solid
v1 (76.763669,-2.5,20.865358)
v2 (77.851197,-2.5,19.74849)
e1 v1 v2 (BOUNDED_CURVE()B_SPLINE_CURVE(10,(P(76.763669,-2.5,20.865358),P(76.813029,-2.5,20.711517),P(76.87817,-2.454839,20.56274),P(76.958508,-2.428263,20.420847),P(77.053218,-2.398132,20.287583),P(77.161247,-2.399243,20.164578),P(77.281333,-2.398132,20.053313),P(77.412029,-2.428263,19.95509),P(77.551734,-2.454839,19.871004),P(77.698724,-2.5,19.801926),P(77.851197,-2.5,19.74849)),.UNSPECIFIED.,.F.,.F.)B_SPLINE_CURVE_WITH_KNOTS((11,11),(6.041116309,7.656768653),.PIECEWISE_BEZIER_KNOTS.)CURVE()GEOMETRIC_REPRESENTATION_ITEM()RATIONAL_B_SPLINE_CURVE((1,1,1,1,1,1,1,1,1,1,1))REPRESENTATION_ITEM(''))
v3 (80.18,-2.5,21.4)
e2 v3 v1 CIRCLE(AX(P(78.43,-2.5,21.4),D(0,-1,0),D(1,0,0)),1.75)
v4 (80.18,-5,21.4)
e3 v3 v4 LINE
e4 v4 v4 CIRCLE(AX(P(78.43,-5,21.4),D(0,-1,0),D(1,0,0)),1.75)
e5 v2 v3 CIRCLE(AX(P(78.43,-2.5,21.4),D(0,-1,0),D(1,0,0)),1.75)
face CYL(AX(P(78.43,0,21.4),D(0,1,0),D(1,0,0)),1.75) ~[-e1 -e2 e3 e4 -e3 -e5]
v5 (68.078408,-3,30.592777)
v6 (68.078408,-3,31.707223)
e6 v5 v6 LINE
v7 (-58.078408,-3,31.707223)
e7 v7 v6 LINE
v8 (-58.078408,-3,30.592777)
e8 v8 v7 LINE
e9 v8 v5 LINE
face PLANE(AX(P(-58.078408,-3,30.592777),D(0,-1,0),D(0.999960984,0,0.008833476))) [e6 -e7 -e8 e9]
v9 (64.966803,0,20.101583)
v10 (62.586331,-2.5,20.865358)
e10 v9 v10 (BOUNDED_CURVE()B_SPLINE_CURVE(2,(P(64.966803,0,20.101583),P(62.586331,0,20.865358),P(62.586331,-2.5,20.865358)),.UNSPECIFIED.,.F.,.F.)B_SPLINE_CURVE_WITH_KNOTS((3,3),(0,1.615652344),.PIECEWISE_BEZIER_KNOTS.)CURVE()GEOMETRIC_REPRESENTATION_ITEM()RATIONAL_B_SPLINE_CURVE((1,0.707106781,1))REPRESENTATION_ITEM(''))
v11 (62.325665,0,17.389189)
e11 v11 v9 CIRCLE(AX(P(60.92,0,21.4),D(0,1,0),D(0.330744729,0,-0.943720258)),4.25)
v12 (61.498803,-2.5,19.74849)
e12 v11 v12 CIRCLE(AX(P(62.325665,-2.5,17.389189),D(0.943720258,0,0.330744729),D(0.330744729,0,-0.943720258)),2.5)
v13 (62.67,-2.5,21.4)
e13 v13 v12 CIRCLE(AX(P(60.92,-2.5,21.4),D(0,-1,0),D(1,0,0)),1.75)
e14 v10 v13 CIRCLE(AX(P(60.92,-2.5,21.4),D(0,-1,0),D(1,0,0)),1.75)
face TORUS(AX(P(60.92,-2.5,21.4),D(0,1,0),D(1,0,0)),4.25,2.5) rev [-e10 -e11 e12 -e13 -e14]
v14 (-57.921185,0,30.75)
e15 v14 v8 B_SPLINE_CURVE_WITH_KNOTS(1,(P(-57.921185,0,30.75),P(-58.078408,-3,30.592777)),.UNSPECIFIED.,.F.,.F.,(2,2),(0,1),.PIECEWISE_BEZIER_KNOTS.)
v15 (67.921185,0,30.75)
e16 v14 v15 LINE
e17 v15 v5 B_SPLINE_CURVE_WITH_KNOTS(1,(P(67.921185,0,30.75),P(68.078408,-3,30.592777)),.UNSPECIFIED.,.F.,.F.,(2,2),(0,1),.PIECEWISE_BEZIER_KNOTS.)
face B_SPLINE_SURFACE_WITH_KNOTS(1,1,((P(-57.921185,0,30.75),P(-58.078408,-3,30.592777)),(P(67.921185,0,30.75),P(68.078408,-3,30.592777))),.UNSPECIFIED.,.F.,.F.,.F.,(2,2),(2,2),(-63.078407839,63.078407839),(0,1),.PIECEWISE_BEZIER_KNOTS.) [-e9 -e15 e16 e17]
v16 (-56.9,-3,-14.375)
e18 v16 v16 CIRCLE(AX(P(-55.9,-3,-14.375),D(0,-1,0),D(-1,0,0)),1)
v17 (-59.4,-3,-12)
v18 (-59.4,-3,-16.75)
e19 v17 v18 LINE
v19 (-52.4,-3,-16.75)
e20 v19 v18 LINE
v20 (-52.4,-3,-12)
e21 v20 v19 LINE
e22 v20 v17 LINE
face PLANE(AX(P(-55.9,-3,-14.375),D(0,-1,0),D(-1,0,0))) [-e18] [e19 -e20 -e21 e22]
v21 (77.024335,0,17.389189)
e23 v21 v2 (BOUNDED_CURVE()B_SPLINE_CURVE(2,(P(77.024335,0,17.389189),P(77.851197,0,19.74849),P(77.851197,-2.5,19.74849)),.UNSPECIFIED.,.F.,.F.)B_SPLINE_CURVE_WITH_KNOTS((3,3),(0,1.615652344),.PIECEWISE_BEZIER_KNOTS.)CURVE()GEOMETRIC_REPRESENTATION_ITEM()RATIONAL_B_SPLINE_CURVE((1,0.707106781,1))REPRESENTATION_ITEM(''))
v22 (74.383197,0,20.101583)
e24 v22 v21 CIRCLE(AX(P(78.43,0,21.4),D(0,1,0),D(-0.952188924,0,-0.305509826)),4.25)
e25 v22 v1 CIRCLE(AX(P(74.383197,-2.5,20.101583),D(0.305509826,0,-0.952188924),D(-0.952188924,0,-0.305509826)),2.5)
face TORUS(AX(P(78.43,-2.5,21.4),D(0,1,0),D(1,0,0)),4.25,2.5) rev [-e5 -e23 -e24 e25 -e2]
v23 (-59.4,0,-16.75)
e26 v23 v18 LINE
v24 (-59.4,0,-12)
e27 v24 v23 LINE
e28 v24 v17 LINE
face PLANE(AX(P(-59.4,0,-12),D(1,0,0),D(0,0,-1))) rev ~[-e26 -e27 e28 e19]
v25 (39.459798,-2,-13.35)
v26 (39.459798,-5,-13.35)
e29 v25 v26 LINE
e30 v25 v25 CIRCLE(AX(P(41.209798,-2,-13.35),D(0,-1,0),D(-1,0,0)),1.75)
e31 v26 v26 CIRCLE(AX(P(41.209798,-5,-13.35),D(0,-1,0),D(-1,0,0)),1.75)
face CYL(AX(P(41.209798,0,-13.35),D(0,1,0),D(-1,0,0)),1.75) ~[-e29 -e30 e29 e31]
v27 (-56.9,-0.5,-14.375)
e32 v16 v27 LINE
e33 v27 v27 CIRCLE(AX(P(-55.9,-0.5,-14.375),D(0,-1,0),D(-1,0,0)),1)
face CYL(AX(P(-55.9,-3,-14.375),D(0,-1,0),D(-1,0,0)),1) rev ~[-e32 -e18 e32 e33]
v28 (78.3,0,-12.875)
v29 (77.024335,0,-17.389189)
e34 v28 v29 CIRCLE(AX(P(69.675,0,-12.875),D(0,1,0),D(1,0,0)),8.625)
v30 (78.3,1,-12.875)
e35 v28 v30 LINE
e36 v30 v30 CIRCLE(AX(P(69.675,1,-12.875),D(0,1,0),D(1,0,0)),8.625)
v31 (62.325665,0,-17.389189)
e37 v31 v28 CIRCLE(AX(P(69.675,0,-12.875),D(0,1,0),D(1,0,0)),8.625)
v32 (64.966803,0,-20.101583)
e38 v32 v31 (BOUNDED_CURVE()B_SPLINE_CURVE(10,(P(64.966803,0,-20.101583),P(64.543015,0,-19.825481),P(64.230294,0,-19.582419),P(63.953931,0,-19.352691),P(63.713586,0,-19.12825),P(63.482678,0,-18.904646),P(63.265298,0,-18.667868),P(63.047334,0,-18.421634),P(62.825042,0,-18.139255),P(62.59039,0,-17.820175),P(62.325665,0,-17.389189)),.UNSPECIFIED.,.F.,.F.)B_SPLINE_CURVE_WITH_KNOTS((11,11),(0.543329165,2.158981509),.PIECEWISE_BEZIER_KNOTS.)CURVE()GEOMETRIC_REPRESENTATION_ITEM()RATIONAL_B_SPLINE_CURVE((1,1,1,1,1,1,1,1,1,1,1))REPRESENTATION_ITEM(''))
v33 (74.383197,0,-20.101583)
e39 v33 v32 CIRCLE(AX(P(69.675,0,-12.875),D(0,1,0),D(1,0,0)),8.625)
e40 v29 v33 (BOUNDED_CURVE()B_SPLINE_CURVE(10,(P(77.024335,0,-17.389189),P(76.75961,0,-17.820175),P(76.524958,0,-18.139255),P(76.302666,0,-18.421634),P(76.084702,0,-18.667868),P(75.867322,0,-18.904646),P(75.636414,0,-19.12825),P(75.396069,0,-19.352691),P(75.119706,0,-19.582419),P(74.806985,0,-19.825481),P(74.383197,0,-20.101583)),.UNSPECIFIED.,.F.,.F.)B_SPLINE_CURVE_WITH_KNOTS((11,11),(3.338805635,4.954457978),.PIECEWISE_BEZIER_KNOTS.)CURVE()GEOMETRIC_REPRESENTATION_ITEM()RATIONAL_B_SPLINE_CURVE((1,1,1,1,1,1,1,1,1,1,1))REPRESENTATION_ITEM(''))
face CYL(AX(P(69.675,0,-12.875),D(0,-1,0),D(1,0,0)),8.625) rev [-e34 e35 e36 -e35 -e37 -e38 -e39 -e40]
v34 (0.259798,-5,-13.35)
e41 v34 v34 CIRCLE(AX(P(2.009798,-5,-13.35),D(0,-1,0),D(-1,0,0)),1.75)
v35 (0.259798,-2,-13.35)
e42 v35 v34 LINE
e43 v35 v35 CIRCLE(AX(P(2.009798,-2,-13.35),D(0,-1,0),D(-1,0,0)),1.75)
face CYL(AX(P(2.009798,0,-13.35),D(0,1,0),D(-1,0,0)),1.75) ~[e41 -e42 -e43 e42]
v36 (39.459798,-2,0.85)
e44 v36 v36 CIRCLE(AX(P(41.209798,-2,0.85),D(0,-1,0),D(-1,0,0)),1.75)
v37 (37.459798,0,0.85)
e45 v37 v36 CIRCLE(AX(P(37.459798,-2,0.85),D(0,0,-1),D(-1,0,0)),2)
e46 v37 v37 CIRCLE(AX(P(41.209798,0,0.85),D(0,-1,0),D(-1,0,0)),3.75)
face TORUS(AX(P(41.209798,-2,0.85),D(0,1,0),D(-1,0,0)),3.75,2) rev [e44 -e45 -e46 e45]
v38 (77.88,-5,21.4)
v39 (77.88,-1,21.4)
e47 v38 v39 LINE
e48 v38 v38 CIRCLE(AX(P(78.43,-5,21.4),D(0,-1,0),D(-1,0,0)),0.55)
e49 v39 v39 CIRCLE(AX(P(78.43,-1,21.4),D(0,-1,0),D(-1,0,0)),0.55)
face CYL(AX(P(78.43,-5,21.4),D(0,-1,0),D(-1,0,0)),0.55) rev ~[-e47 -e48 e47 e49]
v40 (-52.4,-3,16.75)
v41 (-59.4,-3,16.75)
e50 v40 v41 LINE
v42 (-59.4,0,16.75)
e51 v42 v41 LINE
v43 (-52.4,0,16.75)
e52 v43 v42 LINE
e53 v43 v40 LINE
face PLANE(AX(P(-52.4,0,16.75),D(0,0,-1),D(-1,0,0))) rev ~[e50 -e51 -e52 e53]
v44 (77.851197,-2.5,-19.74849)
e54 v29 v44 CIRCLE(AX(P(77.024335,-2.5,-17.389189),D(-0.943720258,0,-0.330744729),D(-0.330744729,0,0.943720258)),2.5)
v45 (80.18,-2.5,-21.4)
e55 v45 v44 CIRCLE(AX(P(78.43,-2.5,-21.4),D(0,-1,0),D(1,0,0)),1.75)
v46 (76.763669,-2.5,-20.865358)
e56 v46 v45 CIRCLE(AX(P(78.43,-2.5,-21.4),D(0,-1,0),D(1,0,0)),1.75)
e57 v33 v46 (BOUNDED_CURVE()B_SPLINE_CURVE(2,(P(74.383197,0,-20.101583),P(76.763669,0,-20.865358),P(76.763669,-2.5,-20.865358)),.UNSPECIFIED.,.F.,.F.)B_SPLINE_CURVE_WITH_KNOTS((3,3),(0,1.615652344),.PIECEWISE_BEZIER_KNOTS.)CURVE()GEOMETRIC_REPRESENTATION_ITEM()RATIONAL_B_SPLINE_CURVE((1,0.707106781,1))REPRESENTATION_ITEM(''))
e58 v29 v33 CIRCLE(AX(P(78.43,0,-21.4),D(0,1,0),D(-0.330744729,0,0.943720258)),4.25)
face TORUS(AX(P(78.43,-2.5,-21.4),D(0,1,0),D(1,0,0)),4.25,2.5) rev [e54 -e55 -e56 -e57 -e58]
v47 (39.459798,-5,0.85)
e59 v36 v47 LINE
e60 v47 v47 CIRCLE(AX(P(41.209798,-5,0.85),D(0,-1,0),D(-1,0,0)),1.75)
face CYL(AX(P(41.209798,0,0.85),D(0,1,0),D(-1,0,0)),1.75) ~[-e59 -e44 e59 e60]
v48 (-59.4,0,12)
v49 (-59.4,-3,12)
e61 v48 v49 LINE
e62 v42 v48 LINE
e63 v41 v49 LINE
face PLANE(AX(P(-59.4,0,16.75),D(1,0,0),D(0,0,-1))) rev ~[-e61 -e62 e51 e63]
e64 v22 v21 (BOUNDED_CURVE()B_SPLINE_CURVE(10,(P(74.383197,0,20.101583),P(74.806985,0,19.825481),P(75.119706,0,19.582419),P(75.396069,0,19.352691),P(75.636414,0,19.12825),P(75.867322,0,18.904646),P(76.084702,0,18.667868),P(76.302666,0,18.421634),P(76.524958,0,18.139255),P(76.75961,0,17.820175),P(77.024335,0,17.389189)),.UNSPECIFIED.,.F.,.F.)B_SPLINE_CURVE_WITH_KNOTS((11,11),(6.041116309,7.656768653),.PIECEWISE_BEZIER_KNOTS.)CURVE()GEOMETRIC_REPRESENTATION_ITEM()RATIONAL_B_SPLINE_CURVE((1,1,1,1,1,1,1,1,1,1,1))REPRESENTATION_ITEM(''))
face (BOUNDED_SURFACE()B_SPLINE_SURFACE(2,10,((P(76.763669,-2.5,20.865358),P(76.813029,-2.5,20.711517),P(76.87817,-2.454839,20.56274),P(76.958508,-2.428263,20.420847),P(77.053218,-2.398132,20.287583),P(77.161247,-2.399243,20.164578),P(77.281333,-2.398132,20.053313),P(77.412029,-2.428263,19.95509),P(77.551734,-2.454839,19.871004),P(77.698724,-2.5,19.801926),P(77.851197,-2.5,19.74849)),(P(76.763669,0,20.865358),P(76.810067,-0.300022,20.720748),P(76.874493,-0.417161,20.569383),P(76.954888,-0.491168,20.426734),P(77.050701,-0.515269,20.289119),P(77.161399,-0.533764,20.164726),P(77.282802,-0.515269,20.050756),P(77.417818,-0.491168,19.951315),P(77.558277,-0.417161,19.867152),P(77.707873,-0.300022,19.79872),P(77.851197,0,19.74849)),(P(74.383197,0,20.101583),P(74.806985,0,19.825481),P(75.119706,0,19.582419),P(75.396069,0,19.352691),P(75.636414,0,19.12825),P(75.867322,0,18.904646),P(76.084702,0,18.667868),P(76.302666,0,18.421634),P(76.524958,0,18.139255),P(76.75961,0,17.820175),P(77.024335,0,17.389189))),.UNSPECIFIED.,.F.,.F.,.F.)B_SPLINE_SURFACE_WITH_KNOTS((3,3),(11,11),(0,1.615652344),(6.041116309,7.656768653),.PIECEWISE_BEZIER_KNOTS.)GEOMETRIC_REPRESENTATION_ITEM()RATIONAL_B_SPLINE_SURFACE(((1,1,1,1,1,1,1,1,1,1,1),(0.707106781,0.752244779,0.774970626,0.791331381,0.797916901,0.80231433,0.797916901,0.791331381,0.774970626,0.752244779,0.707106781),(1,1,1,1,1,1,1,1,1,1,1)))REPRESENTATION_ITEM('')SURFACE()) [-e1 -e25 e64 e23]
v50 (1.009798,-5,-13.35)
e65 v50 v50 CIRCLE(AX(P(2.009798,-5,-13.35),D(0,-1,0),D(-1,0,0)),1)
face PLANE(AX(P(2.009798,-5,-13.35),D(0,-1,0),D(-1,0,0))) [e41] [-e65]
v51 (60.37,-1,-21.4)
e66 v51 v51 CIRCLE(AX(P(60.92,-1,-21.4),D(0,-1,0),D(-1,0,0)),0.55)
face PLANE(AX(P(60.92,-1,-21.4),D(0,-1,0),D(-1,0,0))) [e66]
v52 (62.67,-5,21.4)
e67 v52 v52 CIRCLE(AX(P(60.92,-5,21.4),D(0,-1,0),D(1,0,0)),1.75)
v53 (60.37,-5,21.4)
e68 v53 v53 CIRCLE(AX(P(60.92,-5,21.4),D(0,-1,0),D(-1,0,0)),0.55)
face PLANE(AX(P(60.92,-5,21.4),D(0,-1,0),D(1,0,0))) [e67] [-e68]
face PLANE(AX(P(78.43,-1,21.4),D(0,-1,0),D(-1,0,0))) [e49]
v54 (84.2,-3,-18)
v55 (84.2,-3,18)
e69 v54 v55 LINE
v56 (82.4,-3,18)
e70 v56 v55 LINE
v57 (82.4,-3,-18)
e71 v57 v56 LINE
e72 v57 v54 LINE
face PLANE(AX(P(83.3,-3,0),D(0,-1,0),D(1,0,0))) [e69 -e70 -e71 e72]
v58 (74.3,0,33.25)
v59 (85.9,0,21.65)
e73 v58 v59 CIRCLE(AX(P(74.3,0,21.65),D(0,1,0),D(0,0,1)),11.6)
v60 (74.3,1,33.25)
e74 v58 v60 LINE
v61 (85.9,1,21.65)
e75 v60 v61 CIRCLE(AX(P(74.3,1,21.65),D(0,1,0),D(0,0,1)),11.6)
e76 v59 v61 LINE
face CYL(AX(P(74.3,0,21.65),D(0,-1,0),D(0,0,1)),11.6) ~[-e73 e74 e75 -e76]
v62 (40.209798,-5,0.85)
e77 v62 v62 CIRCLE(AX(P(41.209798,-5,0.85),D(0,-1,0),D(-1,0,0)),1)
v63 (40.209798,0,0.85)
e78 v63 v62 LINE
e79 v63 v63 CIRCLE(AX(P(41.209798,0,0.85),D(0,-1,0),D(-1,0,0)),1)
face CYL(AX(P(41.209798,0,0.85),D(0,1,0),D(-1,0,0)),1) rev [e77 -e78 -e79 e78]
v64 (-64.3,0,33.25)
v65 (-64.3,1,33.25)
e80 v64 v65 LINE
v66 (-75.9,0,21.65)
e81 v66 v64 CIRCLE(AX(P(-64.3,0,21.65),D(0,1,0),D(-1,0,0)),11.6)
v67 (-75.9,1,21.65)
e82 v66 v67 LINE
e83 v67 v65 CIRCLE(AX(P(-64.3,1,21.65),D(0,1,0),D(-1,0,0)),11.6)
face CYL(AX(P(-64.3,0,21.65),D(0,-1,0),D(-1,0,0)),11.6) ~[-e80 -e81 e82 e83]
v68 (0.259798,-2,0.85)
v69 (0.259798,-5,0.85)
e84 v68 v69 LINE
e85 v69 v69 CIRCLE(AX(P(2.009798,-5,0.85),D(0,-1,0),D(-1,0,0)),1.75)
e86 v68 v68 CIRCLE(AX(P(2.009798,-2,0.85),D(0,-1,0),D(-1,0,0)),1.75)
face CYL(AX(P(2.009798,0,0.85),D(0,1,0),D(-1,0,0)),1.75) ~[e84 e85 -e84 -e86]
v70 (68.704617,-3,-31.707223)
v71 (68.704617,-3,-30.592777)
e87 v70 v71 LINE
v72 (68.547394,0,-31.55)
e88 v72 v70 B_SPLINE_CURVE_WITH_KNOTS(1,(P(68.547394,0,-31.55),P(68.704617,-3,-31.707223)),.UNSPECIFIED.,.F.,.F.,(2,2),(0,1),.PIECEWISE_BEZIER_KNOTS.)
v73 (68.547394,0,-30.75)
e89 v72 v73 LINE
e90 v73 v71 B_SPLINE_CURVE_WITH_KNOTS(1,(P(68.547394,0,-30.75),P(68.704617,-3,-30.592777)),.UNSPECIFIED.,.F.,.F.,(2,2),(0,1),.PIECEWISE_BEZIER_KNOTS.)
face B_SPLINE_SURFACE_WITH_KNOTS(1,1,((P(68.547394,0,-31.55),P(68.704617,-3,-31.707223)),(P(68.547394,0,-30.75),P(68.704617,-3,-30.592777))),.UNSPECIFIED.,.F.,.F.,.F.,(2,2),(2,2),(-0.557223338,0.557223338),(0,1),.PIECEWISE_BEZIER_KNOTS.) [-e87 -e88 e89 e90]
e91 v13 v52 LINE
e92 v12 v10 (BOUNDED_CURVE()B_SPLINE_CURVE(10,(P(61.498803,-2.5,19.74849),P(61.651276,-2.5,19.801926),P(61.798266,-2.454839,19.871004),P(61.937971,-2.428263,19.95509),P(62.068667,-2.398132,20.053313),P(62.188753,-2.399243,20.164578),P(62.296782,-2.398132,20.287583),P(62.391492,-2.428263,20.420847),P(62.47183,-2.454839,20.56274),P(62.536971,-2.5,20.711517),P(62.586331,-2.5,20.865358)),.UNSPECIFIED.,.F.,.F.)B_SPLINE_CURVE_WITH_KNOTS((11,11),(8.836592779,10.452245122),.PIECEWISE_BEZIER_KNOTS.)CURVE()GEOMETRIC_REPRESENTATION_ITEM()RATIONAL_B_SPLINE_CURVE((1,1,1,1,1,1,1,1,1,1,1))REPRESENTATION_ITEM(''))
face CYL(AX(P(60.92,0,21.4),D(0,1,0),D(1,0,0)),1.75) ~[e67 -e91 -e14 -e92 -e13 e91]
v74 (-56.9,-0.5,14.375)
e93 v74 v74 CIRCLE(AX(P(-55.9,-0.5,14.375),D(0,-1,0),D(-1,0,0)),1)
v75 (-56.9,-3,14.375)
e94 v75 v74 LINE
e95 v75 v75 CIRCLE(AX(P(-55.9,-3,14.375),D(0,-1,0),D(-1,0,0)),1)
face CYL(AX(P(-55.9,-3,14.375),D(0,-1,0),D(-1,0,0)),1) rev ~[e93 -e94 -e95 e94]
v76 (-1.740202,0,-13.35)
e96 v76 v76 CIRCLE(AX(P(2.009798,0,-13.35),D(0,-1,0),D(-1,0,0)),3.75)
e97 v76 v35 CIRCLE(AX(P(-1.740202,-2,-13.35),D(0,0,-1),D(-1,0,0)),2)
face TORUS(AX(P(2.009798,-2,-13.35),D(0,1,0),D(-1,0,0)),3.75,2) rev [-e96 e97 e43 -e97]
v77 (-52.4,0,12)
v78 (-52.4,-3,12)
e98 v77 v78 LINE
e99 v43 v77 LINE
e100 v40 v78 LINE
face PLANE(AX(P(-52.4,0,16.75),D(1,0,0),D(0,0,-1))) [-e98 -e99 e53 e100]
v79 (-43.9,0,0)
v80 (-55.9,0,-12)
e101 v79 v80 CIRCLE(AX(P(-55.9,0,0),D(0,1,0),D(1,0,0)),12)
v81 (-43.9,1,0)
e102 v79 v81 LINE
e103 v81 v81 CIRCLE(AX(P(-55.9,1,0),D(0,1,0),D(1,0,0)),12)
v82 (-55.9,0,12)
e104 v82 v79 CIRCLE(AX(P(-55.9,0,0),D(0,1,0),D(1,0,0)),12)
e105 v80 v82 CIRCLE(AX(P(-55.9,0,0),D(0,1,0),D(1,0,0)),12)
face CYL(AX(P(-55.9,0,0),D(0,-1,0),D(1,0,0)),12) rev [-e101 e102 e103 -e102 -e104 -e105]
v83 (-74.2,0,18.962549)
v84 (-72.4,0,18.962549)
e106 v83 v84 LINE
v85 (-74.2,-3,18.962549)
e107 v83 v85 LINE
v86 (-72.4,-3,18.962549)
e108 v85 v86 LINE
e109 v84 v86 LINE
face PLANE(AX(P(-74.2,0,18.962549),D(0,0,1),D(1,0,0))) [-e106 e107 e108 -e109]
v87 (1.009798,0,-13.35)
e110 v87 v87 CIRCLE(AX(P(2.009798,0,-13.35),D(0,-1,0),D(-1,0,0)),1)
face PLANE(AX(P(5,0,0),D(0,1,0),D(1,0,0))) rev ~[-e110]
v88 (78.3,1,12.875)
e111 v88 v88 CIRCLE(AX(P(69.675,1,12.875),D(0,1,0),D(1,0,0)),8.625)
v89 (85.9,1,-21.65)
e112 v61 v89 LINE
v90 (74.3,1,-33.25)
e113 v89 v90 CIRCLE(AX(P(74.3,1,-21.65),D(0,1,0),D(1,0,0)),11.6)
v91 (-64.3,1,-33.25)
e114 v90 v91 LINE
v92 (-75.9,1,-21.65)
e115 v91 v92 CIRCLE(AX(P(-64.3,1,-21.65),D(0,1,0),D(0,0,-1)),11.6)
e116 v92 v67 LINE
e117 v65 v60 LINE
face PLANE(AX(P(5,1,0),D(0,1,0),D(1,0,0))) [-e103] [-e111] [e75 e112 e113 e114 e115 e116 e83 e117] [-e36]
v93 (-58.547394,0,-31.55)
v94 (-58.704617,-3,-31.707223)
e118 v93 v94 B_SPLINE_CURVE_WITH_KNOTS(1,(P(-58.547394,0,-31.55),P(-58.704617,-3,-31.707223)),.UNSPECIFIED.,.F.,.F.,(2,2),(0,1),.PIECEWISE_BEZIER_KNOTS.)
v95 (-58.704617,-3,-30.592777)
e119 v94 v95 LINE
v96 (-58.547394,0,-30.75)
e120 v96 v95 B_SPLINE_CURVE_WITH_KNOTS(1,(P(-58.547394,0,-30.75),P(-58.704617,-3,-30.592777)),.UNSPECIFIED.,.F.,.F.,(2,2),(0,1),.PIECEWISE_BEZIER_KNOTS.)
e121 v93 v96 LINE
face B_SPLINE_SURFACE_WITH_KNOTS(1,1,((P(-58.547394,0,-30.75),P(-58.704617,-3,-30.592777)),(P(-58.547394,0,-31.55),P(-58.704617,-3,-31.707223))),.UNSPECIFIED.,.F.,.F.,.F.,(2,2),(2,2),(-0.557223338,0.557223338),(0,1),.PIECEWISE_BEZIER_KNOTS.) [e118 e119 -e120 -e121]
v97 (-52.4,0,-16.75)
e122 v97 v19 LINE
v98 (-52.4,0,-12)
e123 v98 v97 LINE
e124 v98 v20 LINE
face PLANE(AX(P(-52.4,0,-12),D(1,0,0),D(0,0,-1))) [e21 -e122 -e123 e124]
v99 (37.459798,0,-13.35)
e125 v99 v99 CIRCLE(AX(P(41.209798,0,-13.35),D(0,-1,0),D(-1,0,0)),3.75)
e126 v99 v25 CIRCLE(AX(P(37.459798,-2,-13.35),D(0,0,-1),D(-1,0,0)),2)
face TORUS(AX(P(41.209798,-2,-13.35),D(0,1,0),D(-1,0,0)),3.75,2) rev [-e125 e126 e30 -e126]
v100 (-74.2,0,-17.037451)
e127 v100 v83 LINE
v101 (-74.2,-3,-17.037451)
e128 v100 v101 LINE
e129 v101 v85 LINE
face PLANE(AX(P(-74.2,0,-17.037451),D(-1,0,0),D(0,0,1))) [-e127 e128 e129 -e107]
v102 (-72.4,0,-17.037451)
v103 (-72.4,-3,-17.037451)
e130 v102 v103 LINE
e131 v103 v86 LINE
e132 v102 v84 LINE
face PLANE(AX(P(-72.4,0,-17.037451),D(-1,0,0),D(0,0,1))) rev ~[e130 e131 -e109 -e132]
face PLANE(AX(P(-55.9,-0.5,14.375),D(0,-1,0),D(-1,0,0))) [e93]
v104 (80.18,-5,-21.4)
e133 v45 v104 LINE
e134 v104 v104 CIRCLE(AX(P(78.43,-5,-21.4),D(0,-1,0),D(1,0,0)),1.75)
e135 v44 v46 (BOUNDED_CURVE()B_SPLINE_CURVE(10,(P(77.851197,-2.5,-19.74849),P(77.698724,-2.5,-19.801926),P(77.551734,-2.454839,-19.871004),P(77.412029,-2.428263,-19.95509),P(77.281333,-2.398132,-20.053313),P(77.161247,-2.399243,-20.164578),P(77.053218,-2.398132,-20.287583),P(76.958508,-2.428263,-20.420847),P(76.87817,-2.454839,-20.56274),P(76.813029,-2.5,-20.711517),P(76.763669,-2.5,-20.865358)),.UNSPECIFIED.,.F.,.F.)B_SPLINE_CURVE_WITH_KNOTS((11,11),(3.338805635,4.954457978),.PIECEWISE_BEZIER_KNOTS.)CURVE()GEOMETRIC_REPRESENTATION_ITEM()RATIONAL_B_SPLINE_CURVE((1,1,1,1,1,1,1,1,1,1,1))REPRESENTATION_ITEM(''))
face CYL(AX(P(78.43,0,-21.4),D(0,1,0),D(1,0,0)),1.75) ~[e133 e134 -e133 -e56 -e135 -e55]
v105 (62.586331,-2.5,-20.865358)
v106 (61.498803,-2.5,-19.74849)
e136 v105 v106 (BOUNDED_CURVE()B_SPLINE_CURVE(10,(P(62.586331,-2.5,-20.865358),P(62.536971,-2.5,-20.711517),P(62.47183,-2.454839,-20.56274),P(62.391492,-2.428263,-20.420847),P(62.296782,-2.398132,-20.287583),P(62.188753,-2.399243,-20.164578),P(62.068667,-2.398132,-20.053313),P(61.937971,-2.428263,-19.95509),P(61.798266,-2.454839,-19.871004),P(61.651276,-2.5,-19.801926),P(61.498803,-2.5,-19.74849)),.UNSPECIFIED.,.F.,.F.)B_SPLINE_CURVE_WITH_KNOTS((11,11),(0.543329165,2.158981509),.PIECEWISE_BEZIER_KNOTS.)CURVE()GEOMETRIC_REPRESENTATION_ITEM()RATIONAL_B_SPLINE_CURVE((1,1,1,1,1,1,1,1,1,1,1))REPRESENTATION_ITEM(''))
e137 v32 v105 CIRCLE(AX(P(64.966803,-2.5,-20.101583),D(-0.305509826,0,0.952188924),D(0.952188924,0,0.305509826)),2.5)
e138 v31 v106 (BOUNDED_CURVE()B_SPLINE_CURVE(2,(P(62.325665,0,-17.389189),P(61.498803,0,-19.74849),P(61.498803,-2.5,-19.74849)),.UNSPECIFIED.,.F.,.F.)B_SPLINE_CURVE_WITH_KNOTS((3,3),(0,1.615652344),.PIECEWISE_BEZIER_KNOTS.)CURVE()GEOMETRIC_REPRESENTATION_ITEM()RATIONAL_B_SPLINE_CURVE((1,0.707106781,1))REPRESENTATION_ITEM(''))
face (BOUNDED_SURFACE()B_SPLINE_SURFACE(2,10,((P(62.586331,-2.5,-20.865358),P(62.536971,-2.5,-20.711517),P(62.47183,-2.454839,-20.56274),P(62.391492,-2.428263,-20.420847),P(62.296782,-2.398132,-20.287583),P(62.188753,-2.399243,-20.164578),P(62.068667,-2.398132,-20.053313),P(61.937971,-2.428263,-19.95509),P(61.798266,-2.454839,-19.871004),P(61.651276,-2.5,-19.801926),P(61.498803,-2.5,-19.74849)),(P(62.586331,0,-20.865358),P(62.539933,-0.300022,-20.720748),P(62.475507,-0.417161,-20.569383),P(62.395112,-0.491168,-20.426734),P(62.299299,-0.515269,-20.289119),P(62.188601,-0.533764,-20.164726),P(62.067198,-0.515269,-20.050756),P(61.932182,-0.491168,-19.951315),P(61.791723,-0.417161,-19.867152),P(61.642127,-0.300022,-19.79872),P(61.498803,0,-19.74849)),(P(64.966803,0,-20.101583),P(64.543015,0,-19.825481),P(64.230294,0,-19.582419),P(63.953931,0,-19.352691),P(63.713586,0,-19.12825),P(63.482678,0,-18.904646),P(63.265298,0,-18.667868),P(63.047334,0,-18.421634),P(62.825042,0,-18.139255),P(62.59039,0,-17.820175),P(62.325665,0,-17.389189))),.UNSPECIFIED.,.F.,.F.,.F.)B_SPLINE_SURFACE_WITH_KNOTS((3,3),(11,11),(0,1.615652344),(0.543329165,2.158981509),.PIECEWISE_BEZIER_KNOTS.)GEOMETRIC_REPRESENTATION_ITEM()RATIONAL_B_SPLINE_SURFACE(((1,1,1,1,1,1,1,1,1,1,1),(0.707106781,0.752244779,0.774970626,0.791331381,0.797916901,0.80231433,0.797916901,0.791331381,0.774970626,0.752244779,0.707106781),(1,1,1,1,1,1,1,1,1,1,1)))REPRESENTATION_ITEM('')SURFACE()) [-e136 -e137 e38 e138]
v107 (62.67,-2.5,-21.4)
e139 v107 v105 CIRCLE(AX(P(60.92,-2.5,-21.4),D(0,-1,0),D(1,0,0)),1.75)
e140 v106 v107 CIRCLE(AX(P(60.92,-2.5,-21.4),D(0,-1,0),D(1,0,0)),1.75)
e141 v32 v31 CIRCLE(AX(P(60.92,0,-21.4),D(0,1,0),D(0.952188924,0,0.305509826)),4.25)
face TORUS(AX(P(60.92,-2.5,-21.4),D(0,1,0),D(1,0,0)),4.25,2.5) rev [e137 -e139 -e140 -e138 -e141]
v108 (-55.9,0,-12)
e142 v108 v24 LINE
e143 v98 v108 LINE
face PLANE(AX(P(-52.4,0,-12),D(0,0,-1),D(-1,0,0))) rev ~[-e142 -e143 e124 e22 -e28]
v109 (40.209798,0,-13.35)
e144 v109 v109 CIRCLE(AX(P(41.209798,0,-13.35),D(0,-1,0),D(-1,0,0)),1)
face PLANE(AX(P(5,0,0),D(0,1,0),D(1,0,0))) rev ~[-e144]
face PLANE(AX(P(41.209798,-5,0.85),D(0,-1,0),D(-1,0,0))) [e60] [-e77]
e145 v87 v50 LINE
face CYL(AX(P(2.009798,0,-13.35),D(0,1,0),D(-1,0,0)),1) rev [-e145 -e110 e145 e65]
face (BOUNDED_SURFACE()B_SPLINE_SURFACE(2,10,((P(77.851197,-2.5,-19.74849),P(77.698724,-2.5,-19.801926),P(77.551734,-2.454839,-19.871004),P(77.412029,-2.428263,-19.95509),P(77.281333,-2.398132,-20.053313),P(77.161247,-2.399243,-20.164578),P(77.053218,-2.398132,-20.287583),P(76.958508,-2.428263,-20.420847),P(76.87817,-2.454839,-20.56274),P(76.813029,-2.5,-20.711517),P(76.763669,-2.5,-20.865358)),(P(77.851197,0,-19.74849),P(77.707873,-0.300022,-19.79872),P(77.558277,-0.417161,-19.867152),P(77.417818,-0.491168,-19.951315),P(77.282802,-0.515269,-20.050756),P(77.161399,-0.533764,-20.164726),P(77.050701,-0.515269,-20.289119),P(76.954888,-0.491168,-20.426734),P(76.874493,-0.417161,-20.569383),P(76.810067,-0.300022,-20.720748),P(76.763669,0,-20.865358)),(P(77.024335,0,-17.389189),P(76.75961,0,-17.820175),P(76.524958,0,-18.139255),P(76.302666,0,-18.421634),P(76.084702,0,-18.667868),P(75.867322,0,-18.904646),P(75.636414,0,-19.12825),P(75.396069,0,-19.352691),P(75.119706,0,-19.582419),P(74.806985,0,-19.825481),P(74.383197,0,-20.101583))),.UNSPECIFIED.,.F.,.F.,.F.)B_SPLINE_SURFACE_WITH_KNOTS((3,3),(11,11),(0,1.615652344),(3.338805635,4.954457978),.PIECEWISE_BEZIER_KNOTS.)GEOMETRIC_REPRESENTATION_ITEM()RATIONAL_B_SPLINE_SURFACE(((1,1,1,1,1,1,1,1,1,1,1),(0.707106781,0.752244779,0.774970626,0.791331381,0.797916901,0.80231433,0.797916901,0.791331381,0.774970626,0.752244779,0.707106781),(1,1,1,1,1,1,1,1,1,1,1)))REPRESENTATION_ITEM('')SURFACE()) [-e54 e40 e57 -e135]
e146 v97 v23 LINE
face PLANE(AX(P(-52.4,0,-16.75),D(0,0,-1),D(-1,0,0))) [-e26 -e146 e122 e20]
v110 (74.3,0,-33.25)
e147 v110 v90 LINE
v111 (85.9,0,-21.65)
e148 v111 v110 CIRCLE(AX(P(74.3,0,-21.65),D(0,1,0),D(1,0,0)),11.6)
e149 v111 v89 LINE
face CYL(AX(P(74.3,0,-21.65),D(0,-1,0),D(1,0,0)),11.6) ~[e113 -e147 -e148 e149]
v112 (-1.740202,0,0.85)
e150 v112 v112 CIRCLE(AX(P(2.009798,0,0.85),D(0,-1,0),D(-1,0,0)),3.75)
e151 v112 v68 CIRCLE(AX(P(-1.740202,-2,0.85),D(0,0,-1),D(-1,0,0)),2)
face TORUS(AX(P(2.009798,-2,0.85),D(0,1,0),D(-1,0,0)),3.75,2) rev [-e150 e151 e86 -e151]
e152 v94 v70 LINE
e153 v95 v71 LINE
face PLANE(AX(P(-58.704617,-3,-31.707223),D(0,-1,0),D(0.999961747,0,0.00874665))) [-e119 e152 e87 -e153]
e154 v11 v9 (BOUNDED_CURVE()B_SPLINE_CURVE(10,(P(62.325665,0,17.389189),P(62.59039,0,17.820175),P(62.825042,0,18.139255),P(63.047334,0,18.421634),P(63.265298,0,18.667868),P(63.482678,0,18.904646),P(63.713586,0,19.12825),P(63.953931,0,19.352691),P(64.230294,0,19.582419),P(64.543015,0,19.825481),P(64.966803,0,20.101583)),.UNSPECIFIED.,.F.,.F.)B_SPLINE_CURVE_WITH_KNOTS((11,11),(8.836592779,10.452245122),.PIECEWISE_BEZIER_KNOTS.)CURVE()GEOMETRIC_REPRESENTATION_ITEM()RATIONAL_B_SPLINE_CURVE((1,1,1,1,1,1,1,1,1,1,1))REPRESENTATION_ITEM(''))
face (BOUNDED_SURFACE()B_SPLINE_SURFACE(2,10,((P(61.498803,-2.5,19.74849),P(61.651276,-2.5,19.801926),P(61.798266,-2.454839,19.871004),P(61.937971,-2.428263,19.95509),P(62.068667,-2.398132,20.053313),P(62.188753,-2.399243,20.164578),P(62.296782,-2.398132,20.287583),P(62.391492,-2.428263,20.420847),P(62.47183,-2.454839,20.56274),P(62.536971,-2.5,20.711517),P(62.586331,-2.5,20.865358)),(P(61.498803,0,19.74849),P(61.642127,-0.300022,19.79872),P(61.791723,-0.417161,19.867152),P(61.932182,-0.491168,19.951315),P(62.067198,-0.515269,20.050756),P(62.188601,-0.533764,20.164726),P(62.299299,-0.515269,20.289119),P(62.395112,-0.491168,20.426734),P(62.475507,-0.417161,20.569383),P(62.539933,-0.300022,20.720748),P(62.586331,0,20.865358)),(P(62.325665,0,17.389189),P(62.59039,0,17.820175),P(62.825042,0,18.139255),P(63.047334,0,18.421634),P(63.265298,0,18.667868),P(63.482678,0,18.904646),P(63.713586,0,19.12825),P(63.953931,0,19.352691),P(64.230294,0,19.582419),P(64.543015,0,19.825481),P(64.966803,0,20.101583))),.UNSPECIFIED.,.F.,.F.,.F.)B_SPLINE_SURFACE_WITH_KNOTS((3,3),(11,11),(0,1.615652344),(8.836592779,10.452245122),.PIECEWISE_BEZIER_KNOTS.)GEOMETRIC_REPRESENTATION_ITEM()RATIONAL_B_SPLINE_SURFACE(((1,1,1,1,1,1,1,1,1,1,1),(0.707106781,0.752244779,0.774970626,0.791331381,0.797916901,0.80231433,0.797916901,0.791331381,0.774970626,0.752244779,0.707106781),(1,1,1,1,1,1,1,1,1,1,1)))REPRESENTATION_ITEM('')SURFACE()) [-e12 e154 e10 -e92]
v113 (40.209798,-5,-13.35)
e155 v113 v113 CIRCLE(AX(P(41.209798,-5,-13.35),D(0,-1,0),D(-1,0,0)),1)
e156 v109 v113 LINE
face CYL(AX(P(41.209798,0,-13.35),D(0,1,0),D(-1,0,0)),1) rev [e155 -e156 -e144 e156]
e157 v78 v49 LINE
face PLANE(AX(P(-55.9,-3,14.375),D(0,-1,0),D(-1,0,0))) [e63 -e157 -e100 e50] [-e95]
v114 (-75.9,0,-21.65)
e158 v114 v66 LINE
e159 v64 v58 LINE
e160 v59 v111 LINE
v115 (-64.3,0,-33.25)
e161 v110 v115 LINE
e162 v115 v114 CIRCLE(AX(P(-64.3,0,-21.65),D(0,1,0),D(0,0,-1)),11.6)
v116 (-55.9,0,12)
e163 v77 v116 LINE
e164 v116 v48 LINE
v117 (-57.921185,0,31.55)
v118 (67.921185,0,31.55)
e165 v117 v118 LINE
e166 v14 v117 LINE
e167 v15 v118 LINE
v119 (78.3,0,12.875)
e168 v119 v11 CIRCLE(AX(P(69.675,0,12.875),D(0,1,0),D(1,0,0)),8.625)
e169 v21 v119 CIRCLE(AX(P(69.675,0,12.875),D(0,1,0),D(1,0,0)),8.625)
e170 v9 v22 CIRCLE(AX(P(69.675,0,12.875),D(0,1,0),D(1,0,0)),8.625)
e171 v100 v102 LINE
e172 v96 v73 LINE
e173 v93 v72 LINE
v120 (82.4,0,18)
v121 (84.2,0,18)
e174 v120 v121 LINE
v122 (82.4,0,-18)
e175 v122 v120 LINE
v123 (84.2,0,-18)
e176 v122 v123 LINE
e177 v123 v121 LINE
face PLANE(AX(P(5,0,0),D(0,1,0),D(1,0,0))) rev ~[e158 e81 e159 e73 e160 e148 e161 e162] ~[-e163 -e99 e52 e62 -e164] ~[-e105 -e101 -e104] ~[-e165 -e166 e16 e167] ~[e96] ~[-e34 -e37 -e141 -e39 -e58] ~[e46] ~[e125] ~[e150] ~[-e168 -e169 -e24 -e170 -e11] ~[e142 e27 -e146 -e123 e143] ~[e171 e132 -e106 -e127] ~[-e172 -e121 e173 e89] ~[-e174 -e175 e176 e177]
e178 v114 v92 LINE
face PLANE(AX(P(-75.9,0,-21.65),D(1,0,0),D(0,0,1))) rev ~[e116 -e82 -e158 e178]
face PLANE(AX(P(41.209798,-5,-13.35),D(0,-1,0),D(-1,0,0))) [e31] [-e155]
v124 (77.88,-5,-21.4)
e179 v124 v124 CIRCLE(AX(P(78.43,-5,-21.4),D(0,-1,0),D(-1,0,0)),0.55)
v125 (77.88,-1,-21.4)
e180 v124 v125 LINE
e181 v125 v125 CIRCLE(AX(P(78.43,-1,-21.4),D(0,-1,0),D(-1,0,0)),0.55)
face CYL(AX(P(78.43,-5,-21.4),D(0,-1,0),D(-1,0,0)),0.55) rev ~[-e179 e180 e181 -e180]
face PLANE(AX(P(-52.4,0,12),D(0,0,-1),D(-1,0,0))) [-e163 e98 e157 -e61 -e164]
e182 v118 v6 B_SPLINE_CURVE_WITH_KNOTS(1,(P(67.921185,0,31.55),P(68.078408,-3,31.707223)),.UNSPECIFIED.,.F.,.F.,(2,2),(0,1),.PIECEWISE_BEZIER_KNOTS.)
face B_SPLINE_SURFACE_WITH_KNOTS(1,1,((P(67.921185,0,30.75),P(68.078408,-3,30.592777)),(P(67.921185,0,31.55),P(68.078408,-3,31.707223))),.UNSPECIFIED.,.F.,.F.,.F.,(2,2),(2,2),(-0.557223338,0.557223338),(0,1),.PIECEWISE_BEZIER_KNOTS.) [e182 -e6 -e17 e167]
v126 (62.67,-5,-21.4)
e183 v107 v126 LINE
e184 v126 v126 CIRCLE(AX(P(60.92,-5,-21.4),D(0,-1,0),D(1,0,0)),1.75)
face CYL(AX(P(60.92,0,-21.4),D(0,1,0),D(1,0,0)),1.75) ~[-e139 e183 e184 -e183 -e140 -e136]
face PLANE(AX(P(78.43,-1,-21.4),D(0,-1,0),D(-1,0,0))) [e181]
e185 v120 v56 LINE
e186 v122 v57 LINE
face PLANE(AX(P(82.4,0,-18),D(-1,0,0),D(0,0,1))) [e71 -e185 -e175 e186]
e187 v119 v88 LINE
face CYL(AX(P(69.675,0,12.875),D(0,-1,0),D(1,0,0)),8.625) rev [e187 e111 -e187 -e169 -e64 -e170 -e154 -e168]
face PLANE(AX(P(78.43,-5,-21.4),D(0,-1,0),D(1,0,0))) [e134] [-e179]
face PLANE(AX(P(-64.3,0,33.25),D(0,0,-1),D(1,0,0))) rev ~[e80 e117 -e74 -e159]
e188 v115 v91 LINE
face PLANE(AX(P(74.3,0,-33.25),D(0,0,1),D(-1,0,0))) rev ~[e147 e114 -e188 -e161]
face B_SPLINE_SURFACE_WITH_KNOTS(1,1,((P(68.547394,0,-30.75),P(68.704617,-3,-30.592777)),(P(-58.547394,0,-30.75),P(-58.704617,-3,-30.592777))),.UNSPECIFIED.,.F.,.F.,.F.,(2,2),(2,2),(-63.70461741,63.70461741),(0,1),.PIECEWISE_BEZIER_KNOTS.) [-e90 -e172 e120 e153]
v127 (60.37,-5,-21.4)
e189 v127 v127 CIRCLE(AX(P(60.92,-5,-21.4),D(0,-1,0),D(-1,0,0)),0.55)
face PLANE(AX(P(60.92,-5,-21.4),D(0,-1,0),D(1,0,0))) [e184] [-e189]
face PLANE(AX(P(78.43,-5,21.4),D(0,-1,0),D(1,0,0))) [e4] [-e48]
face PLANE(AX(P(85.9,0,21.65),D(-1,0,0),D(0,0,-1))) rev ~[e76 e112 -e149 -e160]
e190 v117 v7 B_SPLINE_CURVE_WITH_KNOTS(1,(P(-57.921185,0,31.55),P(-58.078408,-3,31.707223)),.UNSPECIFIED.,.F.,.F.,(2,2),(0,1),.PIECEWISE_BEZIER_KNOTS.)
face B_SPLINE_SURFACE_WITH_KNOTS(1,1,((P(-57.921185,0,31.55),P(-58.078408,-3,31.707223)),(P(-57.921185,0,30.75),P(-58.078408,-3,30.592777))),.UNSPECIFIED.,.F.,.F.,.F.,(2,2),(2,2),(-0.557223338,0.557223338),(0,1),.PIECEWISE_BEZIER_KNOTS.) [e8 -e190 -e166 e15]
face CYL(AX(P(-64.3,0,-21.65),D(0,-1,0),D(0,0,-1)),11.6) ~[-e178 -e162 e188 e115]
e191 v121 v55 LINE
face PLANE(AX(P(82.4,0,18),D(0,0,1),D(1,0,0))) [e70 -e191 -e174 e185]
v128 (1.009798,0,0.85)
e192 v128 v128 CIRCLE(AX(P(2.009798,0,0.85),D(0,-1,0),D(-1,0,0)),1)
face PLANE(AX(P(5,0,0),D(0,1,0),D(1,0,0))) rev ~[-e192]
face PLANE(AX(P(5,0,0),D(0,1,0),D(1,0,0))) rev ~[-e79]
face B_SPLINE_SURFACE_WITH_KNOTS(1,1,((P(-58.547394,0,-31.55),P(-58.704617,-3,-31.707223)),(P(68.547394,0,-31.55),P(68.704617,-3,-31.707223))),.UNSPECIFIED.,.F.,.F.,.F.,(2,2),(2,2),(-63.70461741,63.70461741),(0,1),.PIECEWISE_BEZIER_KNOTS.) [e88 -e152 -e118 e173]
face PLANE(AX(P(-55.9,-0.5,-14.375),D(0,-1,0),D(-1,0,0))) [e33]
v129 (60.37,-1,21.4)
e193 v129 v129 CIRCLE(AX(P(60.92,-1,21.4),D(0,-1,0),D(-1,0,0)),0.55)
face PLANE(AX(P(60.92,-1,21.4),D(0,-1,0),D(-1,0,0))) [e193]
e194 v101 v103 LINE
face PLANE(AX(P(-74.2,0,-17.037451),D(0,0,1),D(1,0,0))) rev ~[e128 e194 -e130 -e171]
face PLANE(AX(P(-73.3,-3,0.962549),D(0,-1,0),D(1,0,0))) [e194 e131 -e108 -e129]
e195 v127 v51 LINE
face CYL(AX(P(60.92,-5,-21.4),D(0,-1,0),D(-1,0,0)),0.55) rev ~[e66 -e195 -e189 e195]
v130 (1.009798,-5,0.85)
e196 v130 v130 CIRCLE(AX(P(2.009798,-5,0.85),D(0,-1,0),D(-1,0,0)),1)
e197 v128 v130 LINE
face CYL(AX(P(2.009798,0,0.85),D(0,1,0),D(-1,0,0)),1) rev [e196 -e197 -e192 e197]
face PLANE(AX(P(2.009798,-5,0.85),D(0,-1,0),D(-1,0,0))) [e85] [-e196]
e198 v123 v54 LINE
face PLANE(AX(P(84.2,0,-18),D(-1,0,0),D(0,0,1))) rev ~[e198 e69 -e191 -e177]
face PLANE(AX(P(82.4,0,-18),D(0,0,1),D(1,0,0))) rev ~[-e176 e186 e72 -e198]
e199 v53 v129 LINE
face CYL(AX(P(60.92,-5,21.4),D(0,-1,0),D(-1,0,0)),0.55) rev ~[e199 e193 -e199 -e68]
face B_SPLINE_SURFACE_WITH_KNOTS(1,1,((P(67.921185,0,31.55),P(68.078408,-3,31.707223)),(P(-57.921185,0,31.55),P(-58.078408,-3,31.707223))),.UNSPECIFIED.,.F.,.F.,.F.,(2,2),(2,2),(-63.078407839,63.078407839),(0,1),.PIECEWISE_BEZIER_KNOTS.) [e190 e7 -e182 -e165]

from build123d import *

# Parameters (mm, degrees)
BOSS_EXTRUDE1_DEPTH  = 1
HOLES_R              = 8.625
HOLES_R_2            = 12
CUT_EXTRUDE2_DEPTH   = 1
SKETCH2_W            = 7
SKETCH2_H            = 4.75
BOSS_EXTRUDE2_DEPTH  = 3
SKETCH3_R            = 1
CUT_EXTRUDE3_DEPTH   = 2.5
BOARD_POST_HOLES_R   = 1.75
BOARD_POST_HOLES_R_2 = 1
BOSS_EXTRUDE3_DEPTH  = 5
END_STOPS_W          = 1.8
END_STOPS_H          = 36
BOSS_EXTRUDE4_DEPTH  = 3
SKETCH7_W            = 125.842369002
SKETCH7_H            = 0.8
SKETCH7_W_2          = 127.094788144
BOSS_EXTRUDE5_DEPTH  = 3
BOSS_EXTRUDE5_TAPER  = -3
FILLET1_R            = 2
SKETCH8_R            = 1.75
BOSS_EXTRUDE6_DEPTH  = 5
SKETCH9_R            = 0.55
CUT_EXTRUDE4_DEPTH   = 4
FILLET2_R            = 2.5


with BuildPart() as part:
    # Cover → Boss-Extrude1 (new body)
    with BuildSketch(Plane(origin=(0, 0, 0), x_dir=(1, 0, 0), z_dir=(0, 1, 0))):
        with BuildLine():
            Line((85.9, -21.65), (85.9, 21.65))
            ThreePointArc((85.9, 21.65), (82.502438662, 29.852438662), (74.3, 33.25))
            Line((74.3, 33.25), (-64.3, 33.25))
            ThreePointArc((-64.3, 33.25), (-72.502438662, 29.852438662), (-75.9, 21.65))
            Line((-75.9, 21.65), (-75.9, -21.65))
            ThreePointArc((-75.9, -21.65), (-72.502438662, -29.852438662), (-64.3, -33.25))
            Line((-64.3, -33.25), (74.3, -33.25))
            ThreePointArc((74.3, -33.25), (82.502438662, -29.852438662), (85.9, -21.65))
        make_face()
    extrude(amount=BOSS_EXTRUDE1_DEPTH)

    # Holes → Cut-Extrude2 (cut)
    with BuildSketch(Plane(origin=(0, 0, 0), x_dir=(1, 0, 0), z_dir=(0, 1, 0))):
        with Locations((69.675, 12.875)):
            Circle(HOLES_R)
        with Locations((69.675, -12.875)):
            Circle(HOLES_R)
        with Locations((-55.9, 0)):
            Circle(HOLES_R_2)
    extrude(amount=CUT_EXTRUDE2_DEPTH, mode=Mode.SUBTRACT)

    # Sketch2 → Boss-Extrude2 (add)
    with BuildSketch(Plane(origin=(0, 0, 0), x_dir=(-1, 0, 0), z_dir=(0, -1, 0))):
        with Locations((55.9, -14.375)):
            Rectangle(SKETCH2_W, SKETCH2_H)
        with Locations((55.9, 14.375)):
            Rectangle(SKETCH2_W, SKETCH2_H)
    extrude(amount=BOSS_EXTRUDE2_DEPTH)

    # Sketch3 → Cut-Extrude3 (cut)
    with BuildSketch(Plane(origin=(0, -3, 0), x_dir=(-1, 0, 0), z_dir=(0, -1, 0))):
        with Locations((55.9, -14.375)):
            Circle(SKETCH3_R)
        with Locations((55.9, 14.375)):
            Circle(SKETCH3_R)
    extrude(amount=-CUT_EXTRUDE3_DEPTH, mode=Mode.SUBTRACT)

    # Board Post Holes → Boss-Extrude3 (add)
    with BuildSketch(Plane(origin=(0, 0, 0), x_dir=(-1, 0, 0), z_dir=(0, -1, 0))):
        with Locations((-2.009797874, -0.85)):
            Circle(BOARD_POST_HOLES_R)
        with Locations((-2.009797874, -0.85)):
            Circle(BOARD_POST_HOLES_R_2, mode=Mode.SUBTRACT)
        with Locations((-2.009797874, 13.35)):
            Circle(BOARD_POST_HOLES_R)
        with Locations((-2.009797874, 13.35)):
            Circle(BOARD_POST_HOLES_R_2, mode=Mode.SUBTRACT)
        with Locations((-41.209797874, 13.35)):
            Circle(BOARD_POST_HOLES_R)
        with Locations((-41.209797874, 13.35)):
            Circle(BOARD_POST_HOLES_R_2, mode=Mode.SUBTRACT)
        with Locations((-41.209797874, -0.85)):
            Circle(BOARD_POST_HOLES_R)
        with Locations((-41.209797874, -0.85)):
            Circle(BOARD_POST_HOLES_R_2, mode=Mode.SUBTRACT)
    extrude(amount=BOSS_EXTRUDE3_DEPTH)

    # End Stops → Boss-Extrude4 (add)
    with BuildSketch(Plane.XZ):
        with Locations((-73.3, 0.962548754)):
            Rectangle(END_STOPS_W, END_STOPS_H)
        with Locations((83.3, 0)):
            Rectangle(END_STOPS_W, END_STOPS_H)
    extrude(amount=BOSS_EXTRUDE4_DEPTH)

    # Sketch7 → Boss-Extrude5 (add)
    with BuildSketch(Plane.XZ):
        with Locations((5, 31.15)):
            Rectangle(SKETCH7_W, SKETCH7_H)
        with Locations((5, -31.15)):
            Rectangle(SKETCH7_W_2, SKETCH7_H)
    extrude(amount=BOSS_EXTRUDE5_DEPTH, taper=BOSS_EXTRUDE5_TAPER)

    # Fillet1
    fillet1_edges = [part.edges().sort_by_distance(p)[0] for p in [
        (3.759797874, 0, 0.85),
        (3.759797874, 0, -13.35),
        (42.959797874, 0, -13.35),
        (42.959797874, 0, 0.85),
    ]]
    fillet(fillet1_edges, radius=FILLET1_R)

    # Sketch8 → Boss-Extrude6 (add)
    with BuildSketch(Plane.XZ):
        with Locations((60.92, 21.4)):
            Circle(SKETCH8_R)
        with Locations((78.43, 21.4)):
            Circle(SKETCH8_R)
        with Locations((60.92, -21.4)):
            Circle(SKETCH8_R)
        with Locations((78.43, -21.4)):
            Circle(SKETCH8_R)
    extrude(amount=BOSS_EXTRUDE6_DEPTH)

    # Sketch9 → Cut-Extrude4 (cut)
    with BuildSketch(Plane(origin=(0, -5, 0), x_dir=(-1, 0, 0), z_dir=(0, -1, 0))):
        with Locations((-60.92, -21.4)):
            Circle(SKETCH9_R)
        with Locations((-78.43, -21.4)):
            Circle(SKETCH9_R)
        with Locations((-60.92, 21.4)):
            Circle(SKETCH9_R)
        with Locations((-78.43, 21.4)):
            Circle(SKETCH9_R)
    extrude(amount=-CUT_EXTRUDE4_DEPTH, mode=Mode.SUBTRACT)

    # Fillet2
    fillet2_edges = [part.edges().sort_by_distance(p)[0] for p in [
        (59.17, 0, 21.4),
        (76.68, 0, 21.4),
        (59.17, 0, -21.4),
        (76.68, 0, -21.4),
    ]]
    fillet(fillet2_edges, radius=FILLET2_R)


solid = part.part
